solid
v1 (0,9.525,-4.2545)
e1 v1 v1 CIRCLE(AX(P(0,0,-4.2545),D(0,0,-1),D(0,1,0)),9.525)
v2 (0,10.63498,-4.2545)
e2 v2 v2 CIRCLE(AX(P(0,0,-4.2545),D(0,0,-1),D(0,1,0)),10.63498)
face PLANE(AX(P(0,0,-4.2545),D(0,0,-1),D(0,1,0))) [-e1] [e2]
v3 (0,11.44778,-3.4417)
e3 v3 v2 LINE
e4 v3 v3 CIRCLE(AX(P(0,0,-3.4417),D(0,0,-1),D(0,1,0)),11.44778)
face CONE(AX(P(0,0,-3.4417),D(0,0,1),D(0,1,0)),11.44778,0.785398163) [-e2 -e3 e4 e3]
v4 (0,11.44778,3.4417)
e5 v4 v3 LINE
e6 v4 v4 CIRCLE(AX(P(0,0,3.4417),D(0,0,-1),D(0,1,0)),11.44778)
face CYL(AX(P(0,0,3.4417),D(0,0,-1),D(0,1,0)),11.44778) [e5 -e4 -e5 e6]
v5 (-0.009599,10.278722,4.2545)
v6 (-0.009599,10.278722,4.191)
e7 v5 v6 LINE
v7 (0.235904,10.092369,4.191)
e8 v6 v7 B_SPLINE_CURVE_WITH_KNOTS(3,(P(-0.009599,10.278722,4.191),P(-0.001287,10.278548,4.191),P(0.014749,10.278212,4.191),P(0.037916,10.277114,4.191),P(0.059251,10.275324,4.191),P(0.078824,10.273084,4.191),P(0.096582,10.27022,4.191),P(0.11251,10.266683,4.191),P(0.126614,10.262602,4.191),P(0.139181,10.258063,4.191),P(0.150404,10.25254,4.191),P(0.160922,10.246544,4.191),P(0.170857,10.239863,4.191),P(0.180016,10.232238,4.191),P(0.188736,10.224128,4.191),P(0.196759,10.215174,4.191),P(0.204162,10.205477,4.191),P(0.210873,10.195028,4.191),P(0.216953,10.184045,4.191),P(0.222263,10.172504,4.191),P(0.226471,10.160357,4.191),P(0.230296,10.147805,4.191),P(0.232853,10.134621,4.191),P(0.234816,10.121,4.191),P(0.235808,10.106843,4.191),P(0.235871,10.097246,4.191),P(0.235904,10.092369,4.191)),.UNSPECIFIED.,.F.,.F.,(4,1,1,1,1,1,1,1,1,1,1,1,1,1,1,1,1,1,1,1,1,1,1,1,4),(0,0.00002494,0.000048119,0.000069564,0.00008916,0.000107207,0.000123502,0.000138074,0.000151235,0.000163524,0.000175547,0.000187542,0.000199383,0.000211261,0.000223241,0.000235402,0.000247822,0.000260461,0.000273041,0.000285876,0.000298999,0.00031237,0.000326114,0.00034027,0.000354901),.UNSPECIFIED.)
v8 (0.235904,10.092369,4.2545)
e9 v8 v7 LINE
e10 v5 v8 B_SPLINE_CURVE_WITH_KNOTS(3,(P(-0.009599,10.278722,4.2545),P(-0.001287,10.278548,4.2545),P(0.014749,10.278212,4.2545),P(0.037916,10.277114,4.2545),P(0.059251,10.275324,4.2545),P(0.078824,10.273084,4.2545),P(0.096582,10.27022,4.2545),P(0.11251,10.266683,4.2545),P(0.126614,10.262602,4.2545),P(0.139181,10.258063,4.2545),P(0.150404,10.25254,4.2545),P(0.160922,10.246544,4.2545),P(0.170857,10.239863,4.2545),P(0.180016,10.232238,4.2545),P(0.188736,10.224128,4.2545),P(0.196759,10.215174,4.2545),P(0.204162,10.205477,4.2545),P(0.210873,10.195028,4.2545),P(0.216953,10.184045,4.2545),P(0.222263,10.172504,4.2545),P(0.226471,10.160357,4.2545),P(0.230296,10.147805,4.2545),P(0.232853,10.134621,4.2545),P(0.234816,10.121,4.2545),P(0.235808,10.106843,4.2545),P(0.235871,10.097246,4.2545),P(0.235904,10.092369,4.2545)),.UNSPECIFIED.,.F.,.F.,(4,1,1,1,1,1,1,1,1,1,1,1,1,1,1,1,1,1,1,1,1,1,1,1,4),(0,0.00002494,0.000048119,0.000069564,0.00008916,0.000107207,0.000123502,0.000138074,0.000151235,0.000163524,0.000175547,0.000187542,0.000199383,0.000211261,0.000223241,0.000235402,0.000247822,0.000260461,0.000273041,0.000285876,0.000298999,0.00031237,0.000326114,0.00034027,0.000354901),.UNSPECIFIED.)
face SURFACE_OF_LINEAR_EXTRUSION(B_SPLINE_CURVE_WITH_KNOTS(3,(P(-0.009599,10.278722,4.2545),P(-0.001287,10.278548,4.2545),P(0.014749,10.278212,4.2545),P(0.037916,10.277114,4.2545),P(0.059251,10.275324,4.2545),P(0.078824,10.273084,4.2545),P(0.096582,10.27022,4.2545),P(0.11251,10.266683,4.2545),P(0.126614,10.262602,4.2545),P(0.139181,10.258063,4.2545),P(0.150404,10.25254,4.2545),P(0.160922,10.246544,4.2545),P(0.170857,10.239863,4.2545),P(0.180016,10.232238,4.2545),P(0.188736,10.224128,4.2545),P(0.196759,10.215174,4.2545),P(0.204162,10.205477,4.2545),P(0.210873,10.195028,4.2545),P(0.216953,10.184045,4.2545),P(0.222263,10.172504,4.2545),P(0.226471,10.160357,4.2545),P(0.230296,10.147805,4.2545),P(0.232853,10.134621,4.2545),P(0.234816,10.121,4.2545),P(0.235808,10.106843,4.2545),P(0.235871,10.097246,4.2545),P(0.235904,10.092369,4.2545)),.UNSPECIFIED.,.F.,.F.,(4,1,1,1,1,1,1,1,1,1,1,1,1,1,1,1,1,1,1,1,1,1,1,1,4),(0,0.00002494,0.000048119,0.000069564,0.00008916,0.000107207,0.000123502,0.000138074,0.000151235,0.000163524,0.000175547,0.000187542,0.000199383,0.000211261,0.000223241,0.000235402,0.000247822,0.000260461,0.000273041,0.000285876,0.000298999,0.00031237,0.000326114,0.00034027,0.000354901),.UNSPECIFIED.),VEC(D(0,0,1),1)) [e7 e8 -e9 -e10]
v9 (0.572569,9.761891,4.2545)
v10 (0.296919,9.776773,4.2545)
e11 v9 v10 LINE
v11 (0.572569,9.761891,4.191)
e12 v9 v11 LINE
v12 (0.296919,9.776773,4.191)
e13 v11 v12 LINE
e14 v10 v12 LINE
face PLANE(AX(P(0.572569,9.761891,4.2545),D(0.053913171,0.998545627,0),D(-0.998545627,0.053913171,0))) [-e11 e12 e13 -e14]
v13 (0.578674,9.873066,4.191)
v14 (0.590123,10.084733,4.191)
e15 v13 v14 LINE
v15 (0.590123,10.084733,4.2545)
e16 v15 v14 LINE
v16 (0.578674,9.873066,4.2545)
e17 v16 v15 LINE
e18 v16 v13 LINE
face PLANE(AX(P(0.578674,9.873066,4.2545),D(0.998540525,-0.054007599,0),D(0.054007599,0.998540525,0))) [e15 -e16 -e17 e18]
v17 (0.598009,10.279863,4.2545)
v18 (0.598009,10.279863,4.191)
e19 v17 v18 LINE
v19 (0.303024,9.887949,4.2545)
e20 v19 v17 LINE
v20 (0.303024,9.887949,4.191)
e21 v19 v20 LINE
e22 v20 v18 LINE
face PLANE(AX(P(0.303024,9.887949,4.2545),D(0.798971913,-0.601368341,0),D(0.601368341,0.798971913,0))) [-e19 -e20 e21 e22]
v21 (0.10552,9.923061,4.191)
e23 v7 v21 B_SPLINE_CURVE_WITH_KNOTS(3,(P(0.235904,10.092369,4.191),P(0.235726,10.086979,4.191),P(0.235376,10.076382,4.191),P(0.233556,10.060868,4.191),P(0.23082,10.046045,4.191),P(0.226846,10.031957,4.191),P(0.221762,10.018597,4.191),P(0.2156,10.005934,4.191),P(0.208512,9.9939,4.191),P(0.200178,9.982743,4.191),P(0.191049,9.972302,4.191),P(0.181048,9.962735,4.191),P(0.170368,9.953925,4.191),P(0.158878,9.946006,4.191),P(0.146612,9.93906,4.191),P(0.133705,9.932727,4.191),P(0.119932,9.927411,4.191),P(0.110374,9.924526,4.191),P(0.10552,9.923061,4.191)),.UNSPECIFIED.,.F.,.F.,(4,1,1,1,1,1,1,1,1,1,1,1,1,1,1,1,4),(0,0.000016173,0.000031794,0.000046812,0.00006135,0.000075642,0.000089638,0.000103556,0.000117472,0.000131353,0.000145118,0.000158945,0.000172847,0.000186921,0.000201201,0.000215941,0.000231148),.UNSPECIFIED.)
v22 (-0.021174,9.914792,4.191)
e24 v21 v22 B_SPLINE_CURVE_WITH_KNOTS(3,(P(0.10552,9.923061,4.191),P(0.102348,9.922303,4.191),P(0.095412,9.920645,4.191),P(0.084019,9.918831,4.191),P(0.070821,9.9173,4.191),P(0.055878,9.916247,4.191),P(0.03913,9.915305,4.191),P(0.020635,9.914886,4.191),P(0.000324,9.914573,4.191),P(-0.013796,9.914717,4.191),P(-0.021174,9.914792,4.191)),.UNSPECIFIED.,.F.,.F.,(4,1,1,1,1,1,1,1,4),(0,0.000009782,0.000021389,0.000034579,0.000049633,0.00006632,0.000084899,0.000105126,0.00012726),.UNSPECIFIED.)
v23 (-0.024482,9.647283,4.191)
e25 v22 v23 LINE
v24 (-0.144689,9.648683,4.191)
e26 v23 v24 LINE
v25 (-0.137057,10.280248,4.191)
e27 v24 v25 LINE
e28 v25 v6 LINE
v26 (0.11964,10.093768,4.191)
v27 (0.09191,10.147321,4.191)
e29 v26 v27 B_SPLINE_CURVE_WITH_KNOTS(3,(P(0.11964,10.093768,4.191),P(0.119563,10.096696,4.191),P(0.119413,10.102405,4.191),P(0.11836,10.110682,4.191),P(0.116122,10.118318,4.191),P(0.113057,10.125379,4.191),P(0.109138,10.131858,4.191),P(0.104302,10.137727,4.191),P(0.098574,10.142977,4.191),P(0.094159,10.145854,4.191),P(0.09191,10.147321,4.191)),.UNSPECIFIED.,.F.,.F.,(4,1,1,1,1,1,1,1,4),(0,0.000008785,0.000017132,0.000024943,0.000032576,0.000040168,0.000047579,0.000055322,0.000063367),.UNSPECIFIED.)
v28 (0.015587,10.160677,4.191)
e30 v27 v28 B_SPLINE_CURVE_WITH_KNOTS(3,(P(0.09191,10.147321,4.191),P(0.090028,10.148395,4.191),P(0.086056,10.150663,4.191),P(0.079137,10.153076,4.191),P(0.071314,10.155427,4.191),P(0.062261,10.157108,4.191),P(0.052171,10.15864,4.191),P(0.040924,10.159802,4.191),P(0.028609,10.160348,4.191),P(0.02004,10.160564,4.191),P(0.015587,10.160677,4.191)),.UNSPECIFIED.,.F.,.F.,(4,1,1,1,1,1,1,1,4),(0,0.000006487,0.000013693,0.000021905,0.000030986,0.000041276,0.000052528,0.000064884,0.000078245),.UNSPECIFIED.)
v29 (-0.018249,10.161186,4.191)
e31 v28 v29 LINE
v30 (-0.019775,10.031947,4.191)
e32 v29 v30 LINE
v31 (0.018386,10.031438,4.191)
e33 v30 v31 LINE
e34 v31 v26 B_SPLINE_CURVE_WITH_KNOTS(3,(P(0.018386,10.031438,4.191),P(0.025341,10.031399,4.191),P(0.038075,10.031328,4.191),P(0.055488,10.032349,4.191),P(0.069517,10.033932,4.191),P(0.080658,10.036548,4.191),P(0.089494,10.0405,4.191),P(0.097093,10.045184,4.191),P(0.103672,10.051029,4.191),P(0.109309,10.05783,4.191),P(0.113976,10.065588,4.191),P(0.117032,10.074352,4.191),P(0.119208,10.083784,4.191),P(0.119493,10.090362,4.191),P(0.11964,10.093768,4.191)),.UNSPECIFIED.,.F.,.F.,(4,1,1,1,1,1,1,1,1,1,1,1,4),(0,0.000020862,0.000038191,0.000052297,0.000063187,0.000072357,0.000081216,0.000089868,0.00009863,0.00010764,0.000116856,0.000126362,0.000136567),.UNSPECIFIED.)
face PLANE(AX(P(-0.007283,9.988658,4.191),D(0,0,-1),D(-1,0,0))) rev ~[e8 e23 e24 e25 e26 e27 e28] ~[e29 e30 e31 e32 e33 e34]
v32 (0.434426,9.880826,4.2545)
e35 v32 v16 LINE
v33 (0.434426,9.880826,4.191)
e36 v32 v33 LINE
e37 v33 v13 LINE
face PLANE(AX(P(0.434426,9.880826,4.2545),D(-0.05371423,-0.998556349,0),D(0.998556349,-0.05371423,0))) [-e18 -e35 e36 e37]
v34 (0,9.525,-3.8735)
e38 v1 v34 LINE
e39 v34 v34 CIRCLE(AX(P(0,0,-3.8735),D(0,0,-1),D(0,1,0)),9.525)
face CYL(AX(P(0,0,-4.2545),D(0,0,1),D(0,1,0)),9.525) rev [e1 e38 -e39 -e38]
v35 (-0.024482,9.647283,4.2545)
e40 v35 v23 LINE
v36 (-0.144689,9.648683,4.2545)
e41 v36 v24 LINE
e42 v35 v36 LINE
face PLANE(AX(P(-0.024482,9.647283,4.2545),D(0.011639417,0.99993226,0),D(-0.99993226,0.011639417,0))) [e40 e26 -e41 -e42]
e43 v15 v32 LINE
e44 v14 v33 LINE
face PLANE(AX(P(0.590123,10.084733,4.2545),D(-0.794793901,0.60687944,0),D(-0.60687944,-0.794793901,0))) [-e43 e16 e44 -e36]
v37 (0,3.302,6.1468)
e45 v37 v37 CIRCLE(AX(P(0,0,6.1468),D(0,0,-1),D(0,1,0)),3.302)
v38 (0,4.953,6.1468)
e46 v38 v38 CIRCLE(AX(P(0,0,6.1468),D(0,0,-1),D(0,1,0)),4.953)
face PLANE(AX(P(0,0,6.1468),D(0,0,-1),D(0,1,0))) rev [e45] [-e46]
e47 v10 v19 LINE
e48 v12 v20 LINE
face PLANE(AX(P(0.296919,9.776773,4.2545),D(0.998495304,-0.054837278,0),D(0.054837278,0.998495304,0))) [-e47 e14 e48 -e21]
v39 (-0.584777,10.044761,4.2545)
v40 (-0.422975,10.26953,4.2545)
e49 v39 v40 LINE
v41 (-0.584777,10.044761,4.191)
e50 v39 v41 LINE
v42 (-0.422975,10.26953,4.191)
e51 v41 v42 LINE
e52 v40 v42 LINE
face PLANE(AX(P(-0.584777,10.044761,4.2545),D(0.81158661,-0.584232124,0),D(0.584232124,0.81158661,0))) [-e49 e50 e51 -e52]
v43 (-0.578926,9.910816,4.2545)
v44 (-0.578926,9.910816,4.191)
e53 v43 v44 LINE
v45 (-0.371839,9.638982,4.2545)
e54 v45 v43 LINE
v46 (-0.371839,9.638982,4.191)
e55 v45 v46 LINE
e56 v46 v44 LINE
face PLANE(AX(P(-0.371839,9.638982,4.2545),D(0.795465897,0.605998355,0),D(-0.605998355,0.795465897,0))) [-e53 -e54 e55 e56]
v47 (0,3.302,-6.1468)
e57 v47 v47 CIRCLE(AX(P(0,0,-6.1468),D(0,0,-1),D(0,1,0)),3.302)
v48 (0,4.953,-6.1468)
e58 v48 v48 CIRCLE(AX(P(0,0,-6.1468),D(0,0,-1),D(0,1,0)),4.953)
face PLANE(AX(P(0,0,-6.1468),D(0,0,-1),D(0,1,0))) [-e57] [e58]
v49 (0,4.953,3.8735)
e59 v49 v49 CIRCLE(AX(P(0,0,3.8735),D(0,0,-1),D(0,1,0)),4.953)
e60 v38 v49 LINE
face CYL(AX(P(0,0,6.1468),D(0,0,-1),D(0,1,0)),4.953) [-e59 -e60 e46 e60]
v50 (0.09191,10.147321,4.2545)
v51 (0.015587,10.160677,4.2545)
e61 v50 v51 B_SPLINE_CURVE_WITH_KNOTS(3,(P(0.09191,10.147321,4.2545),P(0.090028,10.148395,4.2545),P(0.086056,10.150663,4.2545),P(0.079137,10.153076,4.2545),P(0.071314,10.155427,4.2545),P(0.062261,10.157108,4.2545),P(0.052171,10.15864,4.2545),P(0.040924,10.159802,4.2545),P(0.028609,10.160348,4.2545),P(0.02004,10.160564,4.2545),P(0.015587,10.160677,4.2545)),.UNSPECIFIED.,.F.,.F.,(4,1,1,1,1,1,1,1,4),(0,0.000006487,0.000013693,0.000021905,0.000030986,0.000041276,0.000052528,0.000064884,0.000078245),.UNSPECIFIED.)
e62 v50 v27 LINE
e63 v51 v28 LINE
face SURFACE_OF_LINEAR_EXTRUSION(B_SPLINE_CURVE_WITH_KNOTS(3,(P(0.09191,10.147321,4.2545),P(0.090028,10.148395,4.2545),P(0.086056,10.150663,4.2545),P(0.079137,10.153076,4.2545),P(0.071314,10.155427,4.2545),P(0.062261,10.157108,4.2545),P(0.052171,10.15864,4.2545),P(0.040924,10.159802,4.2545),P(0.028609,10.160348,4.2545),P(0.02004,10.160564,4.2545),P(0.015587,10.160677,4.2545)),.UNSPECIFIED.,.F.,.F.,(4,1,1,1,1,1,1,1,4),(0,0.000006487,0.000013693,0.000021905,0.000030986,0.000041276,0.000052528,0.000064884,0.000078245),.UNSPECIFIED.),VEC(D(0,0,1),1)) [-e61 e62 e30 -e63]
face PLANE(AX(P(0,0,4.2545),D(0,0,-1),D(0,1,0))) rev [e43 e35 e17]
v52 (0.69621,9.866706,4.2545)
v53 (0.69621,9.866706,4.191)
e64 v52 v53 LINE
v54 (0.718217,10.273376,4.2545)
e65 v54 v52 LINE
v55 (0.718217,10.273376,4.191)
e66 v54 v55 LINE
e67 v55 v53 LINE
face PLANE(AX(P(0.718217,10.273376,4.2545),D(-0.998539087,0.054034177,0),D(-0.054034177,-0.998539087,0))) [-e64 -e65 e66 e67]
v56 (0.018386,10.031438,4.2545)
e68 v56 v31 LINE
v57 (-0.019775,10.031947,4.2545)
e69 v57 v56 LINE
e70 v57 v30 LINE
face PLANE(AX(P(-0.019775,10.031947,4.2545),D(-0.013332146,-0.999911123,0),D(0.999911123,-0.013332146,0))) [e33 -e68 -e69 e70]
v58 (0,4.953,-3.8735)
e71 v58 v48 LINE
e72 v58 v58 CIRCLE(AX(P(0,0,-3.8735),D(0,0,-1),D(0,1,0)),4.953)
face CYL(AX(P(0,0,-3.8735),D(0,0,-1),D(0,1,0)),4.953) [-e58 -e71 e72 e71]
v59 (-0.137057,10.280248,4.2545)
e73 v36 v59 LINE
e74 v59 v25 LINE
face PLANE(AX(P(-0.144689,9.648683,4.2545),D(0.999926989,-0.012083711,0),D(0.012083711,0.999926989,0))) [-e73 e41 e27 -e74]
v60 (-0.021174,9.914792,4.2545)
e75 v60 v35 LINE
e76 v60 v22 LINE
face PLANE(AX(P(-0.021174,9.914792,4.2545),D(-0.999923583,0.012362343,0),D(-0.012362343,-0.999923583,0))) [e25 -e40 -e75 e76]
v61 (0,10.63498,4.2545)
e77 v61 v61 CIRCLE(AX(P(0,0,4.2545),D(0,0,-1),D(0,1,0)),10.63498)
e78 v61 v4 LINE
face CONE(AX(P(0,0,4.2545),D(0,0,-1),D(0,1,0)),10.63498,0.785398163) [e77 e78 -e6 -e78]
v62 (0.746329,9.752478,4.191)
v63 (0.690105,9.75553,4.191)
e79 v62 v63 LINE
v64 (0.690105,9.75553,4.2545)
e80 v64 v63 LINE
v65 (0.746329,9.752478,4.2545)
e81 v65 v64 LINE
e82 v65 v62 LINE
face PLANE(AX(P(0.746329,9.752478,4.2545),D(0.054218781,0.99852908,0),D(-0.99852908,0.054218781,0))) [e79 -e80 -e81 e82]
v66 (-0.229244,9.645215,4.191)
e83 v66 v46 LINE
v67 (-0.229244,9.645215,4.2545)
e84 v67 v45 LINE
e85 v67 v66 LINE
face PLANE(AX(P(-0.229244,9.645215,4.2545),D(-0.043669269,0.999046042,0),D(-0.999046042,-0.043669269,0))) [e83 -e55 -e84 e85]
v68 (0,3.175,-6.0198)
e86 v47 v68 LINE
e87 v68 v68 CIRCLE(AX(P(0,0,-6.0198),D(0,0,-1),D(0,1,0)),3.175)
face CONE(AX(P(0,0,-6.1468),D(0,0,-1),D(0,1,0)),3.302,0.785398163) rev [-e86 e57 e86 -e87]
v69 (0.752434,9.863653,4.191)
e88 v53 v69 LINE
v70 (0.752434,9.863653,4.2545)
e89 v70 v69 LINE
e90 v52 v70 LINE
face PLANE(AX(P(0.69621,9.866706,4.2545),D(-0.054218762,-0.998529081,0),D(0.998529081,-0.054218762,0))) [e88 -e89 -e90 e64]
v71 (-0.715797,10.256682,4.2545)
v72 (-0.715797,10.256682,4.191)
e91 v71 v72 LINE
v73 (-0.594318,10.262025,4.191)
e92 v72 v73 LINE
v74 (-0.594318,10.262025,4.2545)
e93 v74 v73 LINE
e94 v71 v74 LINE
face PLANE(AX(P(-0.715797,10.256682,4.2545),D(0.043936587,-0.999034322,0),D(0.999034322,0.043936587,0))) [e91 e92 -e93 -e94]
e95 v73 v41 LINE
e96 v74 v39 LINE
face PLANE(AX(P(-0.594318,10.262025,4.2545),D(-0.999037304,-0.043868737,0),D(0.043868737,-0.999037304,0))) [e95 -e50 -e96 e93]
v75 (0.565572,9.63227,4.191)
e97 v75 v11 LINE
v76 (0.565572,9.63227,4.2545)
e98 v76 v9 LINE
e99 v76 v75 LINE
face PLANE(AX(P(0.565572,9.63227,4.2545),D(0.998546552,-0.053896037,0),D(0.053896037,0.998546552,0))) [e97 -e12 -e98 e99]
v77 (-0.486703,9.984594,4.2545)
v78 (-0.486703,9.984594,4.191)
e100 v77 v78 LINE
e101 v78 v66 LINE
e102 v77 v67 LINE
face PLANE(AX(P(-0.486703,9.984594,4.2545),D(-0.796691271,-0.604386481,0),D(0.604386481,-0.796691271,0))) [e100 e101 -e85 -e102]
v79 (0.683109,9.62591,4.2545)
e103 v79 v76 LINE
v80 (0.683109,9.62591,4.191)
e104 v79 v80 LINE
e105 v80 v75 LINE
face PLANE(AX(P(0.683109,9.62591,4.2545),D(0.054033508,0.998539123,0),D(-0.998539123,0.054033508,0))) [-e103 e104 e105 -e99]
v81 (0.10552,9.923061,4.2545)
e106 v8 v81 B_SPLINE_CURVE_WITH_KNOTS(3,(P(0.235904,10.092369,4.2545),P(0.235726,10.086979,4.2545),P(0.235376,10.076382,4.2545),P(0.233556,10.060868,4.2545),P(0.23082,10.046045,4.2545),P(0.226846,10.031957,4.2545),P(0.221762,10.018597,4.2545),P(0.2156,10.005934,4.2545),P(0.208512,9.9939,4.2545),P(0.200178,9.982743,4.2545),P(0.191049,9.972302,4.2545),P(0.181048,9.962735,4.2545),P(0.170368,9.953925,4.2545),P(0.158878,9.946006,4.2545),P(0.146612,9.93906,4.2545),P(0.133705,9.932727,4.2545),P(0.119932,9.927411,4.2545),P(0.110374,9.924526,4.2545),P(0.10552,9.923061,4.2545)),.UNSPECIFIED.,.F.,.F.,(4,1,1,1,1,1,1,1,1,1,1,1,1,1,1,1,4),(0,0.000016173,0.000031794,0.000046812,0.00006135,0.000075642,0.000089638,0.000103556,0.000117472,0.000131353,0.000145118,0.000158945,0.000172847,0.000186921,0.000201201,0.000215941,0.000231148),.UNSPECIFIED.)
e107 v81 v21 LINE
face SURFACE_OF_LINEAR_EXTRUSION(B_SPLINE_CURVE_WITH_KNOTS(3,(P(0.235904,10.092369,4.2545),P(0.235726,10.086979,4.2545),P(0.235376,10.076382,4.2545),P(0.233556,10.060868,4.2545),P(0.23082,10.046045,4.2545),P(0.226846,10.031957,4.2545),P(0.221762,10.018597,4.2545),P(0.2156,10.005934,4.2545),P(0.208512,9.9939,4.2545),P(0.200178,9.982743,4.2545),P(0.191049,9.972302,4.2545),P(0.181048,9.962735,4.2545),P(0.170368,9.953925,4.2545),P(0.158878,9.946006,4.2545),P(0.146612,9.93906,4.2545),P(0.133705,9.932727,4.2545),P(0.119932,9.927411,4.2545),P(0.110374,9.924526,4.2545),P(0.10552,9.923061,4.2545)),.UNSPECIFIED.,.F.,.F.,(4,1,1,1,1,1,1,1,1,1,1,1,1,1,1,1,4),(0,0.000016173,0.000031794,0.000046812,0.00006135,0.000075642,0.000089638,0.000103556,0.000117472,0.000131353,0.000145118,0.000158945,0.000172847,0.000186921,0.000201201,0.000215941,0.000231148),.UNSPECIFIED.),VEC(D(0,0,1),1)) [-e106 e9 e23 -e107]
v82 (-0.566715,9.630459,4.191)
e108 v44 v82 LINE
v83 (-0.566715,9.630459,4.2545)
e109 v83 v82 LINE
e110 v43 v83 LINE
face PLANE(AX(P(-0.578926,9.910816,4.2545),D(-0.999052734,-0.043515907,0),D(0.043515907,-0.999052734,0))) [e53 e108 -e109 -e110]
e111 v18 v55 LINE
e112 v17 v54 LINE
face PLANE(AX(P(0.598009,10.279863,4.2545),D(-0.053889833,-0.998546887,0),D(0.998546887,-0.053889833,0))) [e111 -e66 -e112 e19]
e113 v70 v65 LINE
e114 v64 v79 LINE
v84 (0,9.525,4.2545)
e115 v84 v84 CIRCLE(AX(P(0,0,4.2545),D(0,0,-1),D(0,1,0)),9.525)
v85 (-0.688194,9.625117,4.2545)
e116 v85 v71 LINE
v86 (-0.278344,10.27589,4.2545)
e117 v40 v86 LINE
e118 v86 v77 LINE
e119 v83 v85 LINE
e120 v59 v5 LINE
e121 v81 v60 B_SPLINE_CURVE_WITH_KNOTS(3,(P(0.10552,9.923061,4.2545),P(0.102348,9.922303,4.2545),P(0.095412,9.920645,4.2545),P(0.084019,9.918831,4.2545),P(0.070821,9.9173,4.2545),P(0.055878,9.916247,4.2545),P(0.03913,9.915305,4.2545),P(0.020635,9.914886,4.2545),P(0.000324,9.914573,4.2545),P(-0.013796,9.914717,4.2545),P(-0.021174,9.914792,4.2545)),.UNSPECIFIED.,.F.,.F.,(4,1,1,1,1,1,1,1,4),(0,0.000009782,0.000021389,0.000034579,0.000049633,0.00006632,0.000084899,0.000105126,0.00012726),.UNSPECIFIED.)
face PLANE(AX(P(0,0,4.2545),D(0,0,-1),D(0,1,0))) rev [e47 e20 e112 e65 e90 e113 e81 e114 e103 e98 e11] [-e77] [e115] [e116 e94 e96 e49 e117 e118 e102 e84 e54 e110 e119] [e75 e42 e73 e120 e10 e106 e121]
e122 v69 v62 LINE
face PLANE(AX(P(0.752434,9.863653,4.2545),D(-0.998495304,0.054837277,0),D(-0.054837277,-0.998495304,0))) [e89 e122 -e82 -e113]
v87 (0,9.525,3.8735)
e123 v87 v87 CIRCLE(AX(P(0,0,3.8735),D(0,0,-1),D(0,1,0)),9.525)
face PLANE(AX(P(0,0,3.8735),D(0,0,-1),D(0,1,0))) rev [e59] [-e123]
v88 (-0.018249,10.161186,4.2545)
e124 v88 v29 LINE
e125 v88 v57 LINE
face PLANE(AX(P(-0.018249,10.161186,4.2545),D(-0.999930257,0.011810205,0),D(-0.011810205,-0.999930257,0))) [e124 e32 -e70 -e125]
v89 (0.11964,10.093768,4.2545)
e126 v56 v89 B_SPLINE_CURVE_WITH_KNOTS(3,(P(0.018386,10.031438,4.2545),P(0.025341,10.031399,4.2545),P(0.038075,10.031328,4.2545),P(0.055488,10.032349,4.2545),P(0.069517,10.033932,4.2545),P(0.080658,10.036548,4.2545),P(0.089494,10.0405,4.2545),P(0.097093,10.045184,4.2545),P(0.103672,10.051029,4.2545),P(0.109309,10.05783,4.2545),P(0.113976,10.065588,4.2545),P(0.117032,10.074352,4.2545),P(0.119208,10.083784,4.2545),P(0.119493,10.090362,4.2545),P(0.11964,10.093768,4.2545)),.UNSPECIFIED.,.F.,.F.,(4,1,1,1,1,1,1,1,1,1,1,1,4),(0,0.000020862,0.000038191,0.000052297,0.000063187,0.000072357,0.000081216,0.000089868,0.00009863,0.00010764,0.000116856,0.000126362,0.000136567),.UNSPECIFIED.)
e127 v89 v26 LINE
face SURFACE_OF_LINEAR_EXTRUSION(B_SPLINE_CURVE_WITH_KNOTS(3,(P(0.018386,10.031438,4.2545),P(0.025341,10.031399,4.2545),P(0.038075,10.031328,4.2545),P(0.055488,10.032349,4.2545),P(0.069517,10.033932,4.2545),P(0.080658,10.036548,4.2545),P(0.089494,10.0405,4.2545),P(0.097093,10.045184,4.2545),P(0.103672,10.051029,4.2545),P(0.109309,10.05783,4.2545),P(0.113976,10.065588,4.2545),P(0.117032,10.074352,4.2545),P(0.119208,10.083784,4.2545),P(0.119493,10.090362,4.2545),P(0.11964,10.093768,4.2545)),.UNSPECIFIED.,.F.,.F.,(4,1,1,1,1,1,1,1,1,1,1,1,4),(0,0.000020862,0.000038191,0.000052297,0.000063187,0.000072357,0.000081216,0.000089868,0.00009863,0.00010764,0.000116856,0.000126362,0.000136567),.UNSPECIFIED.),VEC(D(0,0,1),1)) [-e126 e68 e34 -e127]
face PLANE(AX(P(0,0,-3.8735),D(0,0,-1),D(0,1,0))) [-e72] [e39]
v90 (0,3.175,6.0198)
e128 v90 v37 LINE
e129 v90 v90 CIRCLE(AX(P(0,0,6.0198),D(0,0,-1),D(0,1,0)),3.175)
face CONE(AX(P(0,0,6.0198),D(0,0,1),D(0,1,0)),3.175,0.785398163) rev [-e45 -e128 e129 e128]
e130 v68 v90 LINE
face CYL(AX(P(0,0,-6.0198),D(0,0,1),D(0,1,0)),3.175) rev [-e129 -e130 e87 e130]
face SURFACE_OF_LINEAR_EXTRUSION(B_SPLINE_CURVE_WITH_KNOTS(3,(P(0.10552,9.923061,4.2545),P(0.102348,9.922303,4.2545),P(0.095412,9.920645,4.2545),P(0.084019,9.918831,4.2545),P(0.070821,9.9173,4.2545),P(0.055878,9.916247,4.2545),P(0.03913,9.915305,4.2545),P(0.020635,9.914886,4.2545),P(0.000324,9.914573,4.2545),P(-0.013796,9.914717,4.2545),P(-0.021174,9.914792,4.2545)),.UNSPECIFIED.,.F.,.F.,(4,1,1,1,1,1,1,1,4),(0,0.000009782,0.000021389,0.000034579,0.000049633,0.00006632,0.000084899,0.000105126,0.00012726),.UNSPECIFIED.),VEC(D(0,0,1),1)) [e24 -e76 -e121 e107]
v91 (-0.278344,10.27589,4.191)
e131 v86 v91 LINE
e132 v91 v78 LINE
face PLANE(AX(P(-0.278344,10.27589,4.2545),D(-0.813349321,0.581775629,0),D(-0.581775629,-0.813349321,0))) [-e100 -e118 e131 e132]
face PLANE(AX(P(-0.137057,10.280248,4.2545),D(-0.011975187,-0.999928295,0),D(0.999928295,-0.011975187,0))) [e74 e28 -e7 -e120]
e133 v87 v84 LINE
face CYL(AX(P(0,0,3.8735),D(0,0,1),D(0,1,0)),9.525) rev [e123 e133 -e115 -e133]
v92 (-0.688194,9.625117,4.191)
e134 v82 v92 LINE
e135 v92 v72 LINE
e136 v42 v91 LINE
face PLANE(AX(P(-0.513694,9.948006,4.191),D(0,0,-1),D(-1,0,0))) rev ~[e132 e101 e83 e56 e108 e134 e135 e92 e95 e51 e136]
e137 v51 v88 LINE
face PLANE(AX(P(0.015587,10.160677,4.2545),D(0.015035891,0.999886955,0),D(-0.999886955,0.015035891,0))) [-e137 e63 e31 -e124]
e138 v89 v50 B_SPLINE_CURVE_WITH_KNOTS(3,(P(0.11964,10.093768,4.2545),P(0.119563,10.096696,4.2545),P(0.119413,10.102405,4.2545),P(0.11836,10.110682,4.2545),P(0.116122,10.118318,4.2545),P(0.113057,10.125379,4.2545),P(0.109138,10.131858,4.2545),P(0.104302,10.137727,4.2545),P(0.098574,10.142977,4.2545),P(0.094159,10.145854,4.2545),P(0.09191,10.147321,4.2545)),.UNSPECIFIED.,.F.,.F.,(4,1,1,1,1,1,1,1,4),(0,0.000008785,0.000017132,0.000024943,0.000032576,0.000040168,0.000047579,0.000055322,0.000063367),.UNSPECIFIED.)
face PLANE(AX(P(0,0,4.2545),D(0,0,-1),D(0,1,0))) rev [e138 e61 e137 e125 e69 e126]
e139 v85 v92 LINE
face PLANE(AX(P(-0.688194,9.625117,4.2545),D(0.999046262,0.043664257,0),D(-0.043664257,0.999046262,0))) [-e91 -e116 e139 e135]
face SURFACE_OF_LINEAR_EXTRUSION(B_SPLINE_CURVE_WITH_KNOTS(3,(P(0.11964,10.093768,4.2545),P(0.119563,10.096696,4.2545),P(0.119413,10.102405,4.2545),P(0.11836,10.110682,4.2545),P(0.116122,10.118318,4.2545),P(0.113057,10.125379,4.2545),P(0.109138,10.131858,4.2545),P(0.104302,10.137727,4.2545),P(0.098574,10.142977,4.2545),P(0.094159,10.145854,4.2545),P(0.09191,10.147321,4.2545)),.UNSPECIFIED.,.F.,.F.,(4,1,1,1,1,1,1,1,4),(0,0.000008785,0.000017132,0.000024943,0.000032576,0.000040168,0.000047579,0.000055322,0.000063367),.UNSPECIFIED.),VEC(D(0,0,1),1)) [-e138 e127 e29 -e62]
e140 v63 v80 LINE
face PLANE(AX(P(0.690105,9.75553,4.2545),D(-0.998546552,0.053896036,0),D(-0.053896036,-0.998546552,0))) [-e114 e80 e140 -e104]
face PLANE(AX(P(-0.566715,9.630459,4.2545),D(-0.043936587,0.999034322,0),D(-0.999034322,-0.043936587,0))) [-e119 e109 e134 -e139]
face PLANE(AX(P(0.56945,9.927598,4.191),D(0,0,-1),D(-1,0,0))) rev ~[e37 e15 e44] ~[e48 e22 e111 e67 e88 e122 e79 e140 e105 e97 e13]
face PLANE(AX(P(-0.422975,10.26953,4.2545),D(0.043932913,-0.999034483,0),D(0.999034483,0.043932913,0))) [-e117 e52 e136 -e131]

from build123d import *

# Parameters (mm, degrees)
CUT_EXTRUDE1_DEPTH = 0.0635


with BuildPart() as part:
    # Sketch1 → Revolve1 (revolve)
    with BuildSketch(Plane(origin=(0, 0, 0), x_dir=(0, 0, -1), z_dir=(1, 0, 0))):
        Polygon((-6.1468, 3.302), (-6.1468, 4.953), (-3.8735, 4.953), (-3.8735, 9.525), (-4.2545, 9.525), (-4.2545, 10.63498), (-3.4417, 11.44778), (3.4417, 11.44778), (4.2545, 10.63498), (4.2545, 9.525), (3.8735, 9.525), (3.8735, 4.953), (6.1468, 4.953), (6.1468, 3.302), (6.0198, 3.175), (-6.0198, 3.175), align=None)
    revolve(axis=Axis((0, 0, 0), (0, 0, -1)))

    # Sketch2 → Cut-Extrude1 (cut)
    with BuildSketch(Plane.XY.offset(4.2545)):
        Polygon((-0.715797037, 10.256682265), (-0.59431767, 10.262024813), (-0.584777405, 10.044761191), (-0.422974521, 10.269529821), (-0.278344112, 10.275889997), (-0.486703487, 9.984593924), (-0.229243551, 9.645214917), (-0.371838703, 9.638981945), (-0.578926043, 9.910815879), (-0.566714505, 9.630459308), (-0.688193872, 9.62511676), align=None)
        with BuildLine():
            Line((-0.137056778, 10.280248194), (-0.009598846, 10.278721752))
            add(Edge.make_bspline(
                [(-0.009598846, 10.278721752), (-0.001287185, 10.278547688), (0.014749364, 10.278211849), (0.03791593, 10.277113779), (0.059251361, 10.275324059), (0.078823772, 10.273084067), (0.09658198, 10.270220031), (0.112510114, 10.266682791), (0.126614201, 10.262601864), (0.139181226, 10.258063486), (0.150404482, 10.252540227), (0.160921964, 10.246543676), (0.170857479, 10.23986336), (0.180015832, 10.232238122), (0.18873639, 10.22412794), (0.196758904, 10.215173588), (0.20416167, 10.205477286), (0.210872704, 10.195028329), (0.216953317, 10.184045094), (0.222263409, 10.172503694), (0.226470626, 10.160357095), (0.230295983, 10.147804967), (0.232853006, 10.134621192), (0.234815576, 10.120999554), (0.235807514, 10.106842586), (0.235871459, 10.09724597), (0.235903959, 10.092368587)],
                knots=[0, 0, 0, 0, 2.494e-05, 4.8119e-05, 6.9564e-05, 8.916e-05, 0.000107207, 0.000123502, 0.000138074, 0.000151235, 0.000163524, 0.000175547, 0.000187542, 0.000199383, 0.000211261, 0.000223241, 0.000235402, 0.000247822, 0.000260461, 0.000273041, 0.000285876, 0.000298999, 0.00031237, 0.000326114, 0.00034027, 0.000354901, 0.000354901, 0.000354901, 0.000354901], degree=3))
            add(Edge.make_bspline(
                [(0.235903959, 10.092368587), (0.235726012, 10.086978535), (0.235376195, 10.076382465), (0.233555914, 10.06086812), (0.230820019, 10.046045066), (0.226846103, 10.031957239), (0.221762472, 10.018597169), (0.21559979, 10.005933869), (0.208512368, 9.993900042), (0.200177911, 9.982742598), (0.191049434, 9.97230186), (0.181048202, 9.962734678), (0.170368482, 9.953924746), (0.158877942, 9.946006271), (0.146611538, 9.939059919), (0.133705365, 9.932726844), (0.119932481, 9.927410793), (0.110374057, 9.924525718), (0.105520345, 9.923060694)],
                knots=[0, 0, 0, 0, 1.6173e-05, 3.1794e-05, 4.6812e-05, 6.135e-05, 7.5642e-05, 8.9638e-05, 0.000103556, 0.000117472, 0.000131353, 0.000145118, 0.000158945, 0.000172847, 0.000186921, 0.000201201, 0.000215941, 0.000231148, 0.000231148, 0.000231148, 0.000231148], degree=3))
            add(Edge.make_bspline(
                [(0.105520345, 9.923060694), (0.102347959, 9.922302526), (0.09541168, 9.920644826), (0.084019105, 9.918830767), (0.070821383, 9.917299868), (0.055878254, 9.91624699), (0.039130219, 9.915304899), (0.020635268, 9.914885629), (0.000323735, 9.914573099), (-0.013796465, 9.914717181), (-0.021174367, 9.914792465)],
                knots=[0, 0, 0, 0, 9.782e-06, 2.1389e-05, 3.4579e-05, 4.9633e-05, 6.632e-05, 8.4899e-05, 0.000105126, 0.00012726, 0.00012726, 0.00012726, 0.00012726], degree=3))
            Line((-0.021174367, 9.914792465), (-0.024481658, 9.647283451))
            Line((-0.024481658, 9.647283451), (-0.14468899, 9.648682689))
            Line((-0.14468899, 9.648682689), (-0.137056778, 10.280248194))
        make_face()
        with BuildLine():
            Line((-0.019775128, 10.031946912), (0.01838593, 10.031438098))
            add(Edge.make_bspline(
                [(0.01838593, 10.031438098), (0.025341366, 10.031399241), (0.038074588, 10.031328107), (0.055487961, 10.032349425), (0.06951657, 10.033931542), (0.080657527, 10.0365482), (0.089494488, 10.040499929), (0.097092732, 10.045183773), (0.103672216, 10.051029279), (0.109309451, 10.057830338), (0.113976457, 10.065587683), (0.117032077, 10.074351893), (0.119207899, 10.083784291), (0.119492561, 10.090362271), (0.119639936, 10.093767826)],
                knots=[0, 0, 0, 0, 2.0862e-05, 3.8191e-05, 5.2297e-05, 6.3187e-05, 7.2357e-05, 8.1216e-05, 8.9868e-05, 9.863e-05, 0.00010764, 0.000116856, 0.000126362, 0.000136567, 0.000136567, 0.000136567, 0.000136567], degree=3))
            add(Edge.make_bspline(
                [(0.119639936, 10.093767826), (0.119562982, 10.096695704), (0.119412912, 10.102405414), (0.118359789, 10.110681571), (0.116121516, 10.118318497), (0.113057229, 10.125379216), (0.109137816, 10.131858318), (0.104301671, 10.13772663), (0.09857412, 10.142976641), (0.094159169, 10.145854249), (0.091909568, 10.14732051)],
                knots=[0, 0, 0, 0, 8.785e-06, 1.7132e-05, 2.4943e-05, 3.2576e-05, 4.0168e-05, 4.7579e-05, 5.5322e-05, 6.3367e-05, 6.3367e-05, 6.3367e-05, 6.3367e-05], degree=3))
            add(Edge.make_bspline(
                [(0.091909568, 10.14732051), (0.090027961, 10.148394937), (0.086056367, 10.150662781), (0.07913742, 10.153076263), (0.071314393, 10.15542692), (0.062261301, 10.157108271), (0.052170636, 10.158639954), (0.040923672, 10.159801584), (0.028609183, 10.160347889), (0.020039846, 10.160564391), (0.015587452, 10.16067688)],
                knots=[0, 0, 0, 0, 6.487e-06, 1.3693e-05, 2.1905e-05, 3.0986e-05, 4.1276e-05, 5.2528e-05, 6.4884e-05, 7.8245e-05, 7.8245e-05, 7.8245e-05, 7.8245e-05], degree=3))
            Line((0.015587452, 10.16067688), (-0.018248685, 10.161185694))
            Line((-0.018248685, 10.161185694), (-0.019775128, 10.031946912))
        make_face(mode=Mode.SUBTRACT)
        Polygon((0.598009372, 10.279863333), (0.718216704, 10.273375953), (0.696210494, 9.866706281), (0.752434453, 9.863653397), (0.746328683, 9.752477515), (0.690104725, 9.7555304), (0.683108531, 9.625910007), (0.565572473, 9.632270184), (0.572568667, 9.761890576), (0.296918627, 9.776773389), (0.303024397, 9.88794927), align=None)
        Polygon((0.578674437, 9.873066458), (0.590122754, 10.084733124), (0.434425638, 9.880825873), align=None, mode=Mode.SUBTRACT)
    extrude(amount=-CUT_EXTRUDE1_DEPTH, mode=Mode.SUBTRACT)


solid = part.part
